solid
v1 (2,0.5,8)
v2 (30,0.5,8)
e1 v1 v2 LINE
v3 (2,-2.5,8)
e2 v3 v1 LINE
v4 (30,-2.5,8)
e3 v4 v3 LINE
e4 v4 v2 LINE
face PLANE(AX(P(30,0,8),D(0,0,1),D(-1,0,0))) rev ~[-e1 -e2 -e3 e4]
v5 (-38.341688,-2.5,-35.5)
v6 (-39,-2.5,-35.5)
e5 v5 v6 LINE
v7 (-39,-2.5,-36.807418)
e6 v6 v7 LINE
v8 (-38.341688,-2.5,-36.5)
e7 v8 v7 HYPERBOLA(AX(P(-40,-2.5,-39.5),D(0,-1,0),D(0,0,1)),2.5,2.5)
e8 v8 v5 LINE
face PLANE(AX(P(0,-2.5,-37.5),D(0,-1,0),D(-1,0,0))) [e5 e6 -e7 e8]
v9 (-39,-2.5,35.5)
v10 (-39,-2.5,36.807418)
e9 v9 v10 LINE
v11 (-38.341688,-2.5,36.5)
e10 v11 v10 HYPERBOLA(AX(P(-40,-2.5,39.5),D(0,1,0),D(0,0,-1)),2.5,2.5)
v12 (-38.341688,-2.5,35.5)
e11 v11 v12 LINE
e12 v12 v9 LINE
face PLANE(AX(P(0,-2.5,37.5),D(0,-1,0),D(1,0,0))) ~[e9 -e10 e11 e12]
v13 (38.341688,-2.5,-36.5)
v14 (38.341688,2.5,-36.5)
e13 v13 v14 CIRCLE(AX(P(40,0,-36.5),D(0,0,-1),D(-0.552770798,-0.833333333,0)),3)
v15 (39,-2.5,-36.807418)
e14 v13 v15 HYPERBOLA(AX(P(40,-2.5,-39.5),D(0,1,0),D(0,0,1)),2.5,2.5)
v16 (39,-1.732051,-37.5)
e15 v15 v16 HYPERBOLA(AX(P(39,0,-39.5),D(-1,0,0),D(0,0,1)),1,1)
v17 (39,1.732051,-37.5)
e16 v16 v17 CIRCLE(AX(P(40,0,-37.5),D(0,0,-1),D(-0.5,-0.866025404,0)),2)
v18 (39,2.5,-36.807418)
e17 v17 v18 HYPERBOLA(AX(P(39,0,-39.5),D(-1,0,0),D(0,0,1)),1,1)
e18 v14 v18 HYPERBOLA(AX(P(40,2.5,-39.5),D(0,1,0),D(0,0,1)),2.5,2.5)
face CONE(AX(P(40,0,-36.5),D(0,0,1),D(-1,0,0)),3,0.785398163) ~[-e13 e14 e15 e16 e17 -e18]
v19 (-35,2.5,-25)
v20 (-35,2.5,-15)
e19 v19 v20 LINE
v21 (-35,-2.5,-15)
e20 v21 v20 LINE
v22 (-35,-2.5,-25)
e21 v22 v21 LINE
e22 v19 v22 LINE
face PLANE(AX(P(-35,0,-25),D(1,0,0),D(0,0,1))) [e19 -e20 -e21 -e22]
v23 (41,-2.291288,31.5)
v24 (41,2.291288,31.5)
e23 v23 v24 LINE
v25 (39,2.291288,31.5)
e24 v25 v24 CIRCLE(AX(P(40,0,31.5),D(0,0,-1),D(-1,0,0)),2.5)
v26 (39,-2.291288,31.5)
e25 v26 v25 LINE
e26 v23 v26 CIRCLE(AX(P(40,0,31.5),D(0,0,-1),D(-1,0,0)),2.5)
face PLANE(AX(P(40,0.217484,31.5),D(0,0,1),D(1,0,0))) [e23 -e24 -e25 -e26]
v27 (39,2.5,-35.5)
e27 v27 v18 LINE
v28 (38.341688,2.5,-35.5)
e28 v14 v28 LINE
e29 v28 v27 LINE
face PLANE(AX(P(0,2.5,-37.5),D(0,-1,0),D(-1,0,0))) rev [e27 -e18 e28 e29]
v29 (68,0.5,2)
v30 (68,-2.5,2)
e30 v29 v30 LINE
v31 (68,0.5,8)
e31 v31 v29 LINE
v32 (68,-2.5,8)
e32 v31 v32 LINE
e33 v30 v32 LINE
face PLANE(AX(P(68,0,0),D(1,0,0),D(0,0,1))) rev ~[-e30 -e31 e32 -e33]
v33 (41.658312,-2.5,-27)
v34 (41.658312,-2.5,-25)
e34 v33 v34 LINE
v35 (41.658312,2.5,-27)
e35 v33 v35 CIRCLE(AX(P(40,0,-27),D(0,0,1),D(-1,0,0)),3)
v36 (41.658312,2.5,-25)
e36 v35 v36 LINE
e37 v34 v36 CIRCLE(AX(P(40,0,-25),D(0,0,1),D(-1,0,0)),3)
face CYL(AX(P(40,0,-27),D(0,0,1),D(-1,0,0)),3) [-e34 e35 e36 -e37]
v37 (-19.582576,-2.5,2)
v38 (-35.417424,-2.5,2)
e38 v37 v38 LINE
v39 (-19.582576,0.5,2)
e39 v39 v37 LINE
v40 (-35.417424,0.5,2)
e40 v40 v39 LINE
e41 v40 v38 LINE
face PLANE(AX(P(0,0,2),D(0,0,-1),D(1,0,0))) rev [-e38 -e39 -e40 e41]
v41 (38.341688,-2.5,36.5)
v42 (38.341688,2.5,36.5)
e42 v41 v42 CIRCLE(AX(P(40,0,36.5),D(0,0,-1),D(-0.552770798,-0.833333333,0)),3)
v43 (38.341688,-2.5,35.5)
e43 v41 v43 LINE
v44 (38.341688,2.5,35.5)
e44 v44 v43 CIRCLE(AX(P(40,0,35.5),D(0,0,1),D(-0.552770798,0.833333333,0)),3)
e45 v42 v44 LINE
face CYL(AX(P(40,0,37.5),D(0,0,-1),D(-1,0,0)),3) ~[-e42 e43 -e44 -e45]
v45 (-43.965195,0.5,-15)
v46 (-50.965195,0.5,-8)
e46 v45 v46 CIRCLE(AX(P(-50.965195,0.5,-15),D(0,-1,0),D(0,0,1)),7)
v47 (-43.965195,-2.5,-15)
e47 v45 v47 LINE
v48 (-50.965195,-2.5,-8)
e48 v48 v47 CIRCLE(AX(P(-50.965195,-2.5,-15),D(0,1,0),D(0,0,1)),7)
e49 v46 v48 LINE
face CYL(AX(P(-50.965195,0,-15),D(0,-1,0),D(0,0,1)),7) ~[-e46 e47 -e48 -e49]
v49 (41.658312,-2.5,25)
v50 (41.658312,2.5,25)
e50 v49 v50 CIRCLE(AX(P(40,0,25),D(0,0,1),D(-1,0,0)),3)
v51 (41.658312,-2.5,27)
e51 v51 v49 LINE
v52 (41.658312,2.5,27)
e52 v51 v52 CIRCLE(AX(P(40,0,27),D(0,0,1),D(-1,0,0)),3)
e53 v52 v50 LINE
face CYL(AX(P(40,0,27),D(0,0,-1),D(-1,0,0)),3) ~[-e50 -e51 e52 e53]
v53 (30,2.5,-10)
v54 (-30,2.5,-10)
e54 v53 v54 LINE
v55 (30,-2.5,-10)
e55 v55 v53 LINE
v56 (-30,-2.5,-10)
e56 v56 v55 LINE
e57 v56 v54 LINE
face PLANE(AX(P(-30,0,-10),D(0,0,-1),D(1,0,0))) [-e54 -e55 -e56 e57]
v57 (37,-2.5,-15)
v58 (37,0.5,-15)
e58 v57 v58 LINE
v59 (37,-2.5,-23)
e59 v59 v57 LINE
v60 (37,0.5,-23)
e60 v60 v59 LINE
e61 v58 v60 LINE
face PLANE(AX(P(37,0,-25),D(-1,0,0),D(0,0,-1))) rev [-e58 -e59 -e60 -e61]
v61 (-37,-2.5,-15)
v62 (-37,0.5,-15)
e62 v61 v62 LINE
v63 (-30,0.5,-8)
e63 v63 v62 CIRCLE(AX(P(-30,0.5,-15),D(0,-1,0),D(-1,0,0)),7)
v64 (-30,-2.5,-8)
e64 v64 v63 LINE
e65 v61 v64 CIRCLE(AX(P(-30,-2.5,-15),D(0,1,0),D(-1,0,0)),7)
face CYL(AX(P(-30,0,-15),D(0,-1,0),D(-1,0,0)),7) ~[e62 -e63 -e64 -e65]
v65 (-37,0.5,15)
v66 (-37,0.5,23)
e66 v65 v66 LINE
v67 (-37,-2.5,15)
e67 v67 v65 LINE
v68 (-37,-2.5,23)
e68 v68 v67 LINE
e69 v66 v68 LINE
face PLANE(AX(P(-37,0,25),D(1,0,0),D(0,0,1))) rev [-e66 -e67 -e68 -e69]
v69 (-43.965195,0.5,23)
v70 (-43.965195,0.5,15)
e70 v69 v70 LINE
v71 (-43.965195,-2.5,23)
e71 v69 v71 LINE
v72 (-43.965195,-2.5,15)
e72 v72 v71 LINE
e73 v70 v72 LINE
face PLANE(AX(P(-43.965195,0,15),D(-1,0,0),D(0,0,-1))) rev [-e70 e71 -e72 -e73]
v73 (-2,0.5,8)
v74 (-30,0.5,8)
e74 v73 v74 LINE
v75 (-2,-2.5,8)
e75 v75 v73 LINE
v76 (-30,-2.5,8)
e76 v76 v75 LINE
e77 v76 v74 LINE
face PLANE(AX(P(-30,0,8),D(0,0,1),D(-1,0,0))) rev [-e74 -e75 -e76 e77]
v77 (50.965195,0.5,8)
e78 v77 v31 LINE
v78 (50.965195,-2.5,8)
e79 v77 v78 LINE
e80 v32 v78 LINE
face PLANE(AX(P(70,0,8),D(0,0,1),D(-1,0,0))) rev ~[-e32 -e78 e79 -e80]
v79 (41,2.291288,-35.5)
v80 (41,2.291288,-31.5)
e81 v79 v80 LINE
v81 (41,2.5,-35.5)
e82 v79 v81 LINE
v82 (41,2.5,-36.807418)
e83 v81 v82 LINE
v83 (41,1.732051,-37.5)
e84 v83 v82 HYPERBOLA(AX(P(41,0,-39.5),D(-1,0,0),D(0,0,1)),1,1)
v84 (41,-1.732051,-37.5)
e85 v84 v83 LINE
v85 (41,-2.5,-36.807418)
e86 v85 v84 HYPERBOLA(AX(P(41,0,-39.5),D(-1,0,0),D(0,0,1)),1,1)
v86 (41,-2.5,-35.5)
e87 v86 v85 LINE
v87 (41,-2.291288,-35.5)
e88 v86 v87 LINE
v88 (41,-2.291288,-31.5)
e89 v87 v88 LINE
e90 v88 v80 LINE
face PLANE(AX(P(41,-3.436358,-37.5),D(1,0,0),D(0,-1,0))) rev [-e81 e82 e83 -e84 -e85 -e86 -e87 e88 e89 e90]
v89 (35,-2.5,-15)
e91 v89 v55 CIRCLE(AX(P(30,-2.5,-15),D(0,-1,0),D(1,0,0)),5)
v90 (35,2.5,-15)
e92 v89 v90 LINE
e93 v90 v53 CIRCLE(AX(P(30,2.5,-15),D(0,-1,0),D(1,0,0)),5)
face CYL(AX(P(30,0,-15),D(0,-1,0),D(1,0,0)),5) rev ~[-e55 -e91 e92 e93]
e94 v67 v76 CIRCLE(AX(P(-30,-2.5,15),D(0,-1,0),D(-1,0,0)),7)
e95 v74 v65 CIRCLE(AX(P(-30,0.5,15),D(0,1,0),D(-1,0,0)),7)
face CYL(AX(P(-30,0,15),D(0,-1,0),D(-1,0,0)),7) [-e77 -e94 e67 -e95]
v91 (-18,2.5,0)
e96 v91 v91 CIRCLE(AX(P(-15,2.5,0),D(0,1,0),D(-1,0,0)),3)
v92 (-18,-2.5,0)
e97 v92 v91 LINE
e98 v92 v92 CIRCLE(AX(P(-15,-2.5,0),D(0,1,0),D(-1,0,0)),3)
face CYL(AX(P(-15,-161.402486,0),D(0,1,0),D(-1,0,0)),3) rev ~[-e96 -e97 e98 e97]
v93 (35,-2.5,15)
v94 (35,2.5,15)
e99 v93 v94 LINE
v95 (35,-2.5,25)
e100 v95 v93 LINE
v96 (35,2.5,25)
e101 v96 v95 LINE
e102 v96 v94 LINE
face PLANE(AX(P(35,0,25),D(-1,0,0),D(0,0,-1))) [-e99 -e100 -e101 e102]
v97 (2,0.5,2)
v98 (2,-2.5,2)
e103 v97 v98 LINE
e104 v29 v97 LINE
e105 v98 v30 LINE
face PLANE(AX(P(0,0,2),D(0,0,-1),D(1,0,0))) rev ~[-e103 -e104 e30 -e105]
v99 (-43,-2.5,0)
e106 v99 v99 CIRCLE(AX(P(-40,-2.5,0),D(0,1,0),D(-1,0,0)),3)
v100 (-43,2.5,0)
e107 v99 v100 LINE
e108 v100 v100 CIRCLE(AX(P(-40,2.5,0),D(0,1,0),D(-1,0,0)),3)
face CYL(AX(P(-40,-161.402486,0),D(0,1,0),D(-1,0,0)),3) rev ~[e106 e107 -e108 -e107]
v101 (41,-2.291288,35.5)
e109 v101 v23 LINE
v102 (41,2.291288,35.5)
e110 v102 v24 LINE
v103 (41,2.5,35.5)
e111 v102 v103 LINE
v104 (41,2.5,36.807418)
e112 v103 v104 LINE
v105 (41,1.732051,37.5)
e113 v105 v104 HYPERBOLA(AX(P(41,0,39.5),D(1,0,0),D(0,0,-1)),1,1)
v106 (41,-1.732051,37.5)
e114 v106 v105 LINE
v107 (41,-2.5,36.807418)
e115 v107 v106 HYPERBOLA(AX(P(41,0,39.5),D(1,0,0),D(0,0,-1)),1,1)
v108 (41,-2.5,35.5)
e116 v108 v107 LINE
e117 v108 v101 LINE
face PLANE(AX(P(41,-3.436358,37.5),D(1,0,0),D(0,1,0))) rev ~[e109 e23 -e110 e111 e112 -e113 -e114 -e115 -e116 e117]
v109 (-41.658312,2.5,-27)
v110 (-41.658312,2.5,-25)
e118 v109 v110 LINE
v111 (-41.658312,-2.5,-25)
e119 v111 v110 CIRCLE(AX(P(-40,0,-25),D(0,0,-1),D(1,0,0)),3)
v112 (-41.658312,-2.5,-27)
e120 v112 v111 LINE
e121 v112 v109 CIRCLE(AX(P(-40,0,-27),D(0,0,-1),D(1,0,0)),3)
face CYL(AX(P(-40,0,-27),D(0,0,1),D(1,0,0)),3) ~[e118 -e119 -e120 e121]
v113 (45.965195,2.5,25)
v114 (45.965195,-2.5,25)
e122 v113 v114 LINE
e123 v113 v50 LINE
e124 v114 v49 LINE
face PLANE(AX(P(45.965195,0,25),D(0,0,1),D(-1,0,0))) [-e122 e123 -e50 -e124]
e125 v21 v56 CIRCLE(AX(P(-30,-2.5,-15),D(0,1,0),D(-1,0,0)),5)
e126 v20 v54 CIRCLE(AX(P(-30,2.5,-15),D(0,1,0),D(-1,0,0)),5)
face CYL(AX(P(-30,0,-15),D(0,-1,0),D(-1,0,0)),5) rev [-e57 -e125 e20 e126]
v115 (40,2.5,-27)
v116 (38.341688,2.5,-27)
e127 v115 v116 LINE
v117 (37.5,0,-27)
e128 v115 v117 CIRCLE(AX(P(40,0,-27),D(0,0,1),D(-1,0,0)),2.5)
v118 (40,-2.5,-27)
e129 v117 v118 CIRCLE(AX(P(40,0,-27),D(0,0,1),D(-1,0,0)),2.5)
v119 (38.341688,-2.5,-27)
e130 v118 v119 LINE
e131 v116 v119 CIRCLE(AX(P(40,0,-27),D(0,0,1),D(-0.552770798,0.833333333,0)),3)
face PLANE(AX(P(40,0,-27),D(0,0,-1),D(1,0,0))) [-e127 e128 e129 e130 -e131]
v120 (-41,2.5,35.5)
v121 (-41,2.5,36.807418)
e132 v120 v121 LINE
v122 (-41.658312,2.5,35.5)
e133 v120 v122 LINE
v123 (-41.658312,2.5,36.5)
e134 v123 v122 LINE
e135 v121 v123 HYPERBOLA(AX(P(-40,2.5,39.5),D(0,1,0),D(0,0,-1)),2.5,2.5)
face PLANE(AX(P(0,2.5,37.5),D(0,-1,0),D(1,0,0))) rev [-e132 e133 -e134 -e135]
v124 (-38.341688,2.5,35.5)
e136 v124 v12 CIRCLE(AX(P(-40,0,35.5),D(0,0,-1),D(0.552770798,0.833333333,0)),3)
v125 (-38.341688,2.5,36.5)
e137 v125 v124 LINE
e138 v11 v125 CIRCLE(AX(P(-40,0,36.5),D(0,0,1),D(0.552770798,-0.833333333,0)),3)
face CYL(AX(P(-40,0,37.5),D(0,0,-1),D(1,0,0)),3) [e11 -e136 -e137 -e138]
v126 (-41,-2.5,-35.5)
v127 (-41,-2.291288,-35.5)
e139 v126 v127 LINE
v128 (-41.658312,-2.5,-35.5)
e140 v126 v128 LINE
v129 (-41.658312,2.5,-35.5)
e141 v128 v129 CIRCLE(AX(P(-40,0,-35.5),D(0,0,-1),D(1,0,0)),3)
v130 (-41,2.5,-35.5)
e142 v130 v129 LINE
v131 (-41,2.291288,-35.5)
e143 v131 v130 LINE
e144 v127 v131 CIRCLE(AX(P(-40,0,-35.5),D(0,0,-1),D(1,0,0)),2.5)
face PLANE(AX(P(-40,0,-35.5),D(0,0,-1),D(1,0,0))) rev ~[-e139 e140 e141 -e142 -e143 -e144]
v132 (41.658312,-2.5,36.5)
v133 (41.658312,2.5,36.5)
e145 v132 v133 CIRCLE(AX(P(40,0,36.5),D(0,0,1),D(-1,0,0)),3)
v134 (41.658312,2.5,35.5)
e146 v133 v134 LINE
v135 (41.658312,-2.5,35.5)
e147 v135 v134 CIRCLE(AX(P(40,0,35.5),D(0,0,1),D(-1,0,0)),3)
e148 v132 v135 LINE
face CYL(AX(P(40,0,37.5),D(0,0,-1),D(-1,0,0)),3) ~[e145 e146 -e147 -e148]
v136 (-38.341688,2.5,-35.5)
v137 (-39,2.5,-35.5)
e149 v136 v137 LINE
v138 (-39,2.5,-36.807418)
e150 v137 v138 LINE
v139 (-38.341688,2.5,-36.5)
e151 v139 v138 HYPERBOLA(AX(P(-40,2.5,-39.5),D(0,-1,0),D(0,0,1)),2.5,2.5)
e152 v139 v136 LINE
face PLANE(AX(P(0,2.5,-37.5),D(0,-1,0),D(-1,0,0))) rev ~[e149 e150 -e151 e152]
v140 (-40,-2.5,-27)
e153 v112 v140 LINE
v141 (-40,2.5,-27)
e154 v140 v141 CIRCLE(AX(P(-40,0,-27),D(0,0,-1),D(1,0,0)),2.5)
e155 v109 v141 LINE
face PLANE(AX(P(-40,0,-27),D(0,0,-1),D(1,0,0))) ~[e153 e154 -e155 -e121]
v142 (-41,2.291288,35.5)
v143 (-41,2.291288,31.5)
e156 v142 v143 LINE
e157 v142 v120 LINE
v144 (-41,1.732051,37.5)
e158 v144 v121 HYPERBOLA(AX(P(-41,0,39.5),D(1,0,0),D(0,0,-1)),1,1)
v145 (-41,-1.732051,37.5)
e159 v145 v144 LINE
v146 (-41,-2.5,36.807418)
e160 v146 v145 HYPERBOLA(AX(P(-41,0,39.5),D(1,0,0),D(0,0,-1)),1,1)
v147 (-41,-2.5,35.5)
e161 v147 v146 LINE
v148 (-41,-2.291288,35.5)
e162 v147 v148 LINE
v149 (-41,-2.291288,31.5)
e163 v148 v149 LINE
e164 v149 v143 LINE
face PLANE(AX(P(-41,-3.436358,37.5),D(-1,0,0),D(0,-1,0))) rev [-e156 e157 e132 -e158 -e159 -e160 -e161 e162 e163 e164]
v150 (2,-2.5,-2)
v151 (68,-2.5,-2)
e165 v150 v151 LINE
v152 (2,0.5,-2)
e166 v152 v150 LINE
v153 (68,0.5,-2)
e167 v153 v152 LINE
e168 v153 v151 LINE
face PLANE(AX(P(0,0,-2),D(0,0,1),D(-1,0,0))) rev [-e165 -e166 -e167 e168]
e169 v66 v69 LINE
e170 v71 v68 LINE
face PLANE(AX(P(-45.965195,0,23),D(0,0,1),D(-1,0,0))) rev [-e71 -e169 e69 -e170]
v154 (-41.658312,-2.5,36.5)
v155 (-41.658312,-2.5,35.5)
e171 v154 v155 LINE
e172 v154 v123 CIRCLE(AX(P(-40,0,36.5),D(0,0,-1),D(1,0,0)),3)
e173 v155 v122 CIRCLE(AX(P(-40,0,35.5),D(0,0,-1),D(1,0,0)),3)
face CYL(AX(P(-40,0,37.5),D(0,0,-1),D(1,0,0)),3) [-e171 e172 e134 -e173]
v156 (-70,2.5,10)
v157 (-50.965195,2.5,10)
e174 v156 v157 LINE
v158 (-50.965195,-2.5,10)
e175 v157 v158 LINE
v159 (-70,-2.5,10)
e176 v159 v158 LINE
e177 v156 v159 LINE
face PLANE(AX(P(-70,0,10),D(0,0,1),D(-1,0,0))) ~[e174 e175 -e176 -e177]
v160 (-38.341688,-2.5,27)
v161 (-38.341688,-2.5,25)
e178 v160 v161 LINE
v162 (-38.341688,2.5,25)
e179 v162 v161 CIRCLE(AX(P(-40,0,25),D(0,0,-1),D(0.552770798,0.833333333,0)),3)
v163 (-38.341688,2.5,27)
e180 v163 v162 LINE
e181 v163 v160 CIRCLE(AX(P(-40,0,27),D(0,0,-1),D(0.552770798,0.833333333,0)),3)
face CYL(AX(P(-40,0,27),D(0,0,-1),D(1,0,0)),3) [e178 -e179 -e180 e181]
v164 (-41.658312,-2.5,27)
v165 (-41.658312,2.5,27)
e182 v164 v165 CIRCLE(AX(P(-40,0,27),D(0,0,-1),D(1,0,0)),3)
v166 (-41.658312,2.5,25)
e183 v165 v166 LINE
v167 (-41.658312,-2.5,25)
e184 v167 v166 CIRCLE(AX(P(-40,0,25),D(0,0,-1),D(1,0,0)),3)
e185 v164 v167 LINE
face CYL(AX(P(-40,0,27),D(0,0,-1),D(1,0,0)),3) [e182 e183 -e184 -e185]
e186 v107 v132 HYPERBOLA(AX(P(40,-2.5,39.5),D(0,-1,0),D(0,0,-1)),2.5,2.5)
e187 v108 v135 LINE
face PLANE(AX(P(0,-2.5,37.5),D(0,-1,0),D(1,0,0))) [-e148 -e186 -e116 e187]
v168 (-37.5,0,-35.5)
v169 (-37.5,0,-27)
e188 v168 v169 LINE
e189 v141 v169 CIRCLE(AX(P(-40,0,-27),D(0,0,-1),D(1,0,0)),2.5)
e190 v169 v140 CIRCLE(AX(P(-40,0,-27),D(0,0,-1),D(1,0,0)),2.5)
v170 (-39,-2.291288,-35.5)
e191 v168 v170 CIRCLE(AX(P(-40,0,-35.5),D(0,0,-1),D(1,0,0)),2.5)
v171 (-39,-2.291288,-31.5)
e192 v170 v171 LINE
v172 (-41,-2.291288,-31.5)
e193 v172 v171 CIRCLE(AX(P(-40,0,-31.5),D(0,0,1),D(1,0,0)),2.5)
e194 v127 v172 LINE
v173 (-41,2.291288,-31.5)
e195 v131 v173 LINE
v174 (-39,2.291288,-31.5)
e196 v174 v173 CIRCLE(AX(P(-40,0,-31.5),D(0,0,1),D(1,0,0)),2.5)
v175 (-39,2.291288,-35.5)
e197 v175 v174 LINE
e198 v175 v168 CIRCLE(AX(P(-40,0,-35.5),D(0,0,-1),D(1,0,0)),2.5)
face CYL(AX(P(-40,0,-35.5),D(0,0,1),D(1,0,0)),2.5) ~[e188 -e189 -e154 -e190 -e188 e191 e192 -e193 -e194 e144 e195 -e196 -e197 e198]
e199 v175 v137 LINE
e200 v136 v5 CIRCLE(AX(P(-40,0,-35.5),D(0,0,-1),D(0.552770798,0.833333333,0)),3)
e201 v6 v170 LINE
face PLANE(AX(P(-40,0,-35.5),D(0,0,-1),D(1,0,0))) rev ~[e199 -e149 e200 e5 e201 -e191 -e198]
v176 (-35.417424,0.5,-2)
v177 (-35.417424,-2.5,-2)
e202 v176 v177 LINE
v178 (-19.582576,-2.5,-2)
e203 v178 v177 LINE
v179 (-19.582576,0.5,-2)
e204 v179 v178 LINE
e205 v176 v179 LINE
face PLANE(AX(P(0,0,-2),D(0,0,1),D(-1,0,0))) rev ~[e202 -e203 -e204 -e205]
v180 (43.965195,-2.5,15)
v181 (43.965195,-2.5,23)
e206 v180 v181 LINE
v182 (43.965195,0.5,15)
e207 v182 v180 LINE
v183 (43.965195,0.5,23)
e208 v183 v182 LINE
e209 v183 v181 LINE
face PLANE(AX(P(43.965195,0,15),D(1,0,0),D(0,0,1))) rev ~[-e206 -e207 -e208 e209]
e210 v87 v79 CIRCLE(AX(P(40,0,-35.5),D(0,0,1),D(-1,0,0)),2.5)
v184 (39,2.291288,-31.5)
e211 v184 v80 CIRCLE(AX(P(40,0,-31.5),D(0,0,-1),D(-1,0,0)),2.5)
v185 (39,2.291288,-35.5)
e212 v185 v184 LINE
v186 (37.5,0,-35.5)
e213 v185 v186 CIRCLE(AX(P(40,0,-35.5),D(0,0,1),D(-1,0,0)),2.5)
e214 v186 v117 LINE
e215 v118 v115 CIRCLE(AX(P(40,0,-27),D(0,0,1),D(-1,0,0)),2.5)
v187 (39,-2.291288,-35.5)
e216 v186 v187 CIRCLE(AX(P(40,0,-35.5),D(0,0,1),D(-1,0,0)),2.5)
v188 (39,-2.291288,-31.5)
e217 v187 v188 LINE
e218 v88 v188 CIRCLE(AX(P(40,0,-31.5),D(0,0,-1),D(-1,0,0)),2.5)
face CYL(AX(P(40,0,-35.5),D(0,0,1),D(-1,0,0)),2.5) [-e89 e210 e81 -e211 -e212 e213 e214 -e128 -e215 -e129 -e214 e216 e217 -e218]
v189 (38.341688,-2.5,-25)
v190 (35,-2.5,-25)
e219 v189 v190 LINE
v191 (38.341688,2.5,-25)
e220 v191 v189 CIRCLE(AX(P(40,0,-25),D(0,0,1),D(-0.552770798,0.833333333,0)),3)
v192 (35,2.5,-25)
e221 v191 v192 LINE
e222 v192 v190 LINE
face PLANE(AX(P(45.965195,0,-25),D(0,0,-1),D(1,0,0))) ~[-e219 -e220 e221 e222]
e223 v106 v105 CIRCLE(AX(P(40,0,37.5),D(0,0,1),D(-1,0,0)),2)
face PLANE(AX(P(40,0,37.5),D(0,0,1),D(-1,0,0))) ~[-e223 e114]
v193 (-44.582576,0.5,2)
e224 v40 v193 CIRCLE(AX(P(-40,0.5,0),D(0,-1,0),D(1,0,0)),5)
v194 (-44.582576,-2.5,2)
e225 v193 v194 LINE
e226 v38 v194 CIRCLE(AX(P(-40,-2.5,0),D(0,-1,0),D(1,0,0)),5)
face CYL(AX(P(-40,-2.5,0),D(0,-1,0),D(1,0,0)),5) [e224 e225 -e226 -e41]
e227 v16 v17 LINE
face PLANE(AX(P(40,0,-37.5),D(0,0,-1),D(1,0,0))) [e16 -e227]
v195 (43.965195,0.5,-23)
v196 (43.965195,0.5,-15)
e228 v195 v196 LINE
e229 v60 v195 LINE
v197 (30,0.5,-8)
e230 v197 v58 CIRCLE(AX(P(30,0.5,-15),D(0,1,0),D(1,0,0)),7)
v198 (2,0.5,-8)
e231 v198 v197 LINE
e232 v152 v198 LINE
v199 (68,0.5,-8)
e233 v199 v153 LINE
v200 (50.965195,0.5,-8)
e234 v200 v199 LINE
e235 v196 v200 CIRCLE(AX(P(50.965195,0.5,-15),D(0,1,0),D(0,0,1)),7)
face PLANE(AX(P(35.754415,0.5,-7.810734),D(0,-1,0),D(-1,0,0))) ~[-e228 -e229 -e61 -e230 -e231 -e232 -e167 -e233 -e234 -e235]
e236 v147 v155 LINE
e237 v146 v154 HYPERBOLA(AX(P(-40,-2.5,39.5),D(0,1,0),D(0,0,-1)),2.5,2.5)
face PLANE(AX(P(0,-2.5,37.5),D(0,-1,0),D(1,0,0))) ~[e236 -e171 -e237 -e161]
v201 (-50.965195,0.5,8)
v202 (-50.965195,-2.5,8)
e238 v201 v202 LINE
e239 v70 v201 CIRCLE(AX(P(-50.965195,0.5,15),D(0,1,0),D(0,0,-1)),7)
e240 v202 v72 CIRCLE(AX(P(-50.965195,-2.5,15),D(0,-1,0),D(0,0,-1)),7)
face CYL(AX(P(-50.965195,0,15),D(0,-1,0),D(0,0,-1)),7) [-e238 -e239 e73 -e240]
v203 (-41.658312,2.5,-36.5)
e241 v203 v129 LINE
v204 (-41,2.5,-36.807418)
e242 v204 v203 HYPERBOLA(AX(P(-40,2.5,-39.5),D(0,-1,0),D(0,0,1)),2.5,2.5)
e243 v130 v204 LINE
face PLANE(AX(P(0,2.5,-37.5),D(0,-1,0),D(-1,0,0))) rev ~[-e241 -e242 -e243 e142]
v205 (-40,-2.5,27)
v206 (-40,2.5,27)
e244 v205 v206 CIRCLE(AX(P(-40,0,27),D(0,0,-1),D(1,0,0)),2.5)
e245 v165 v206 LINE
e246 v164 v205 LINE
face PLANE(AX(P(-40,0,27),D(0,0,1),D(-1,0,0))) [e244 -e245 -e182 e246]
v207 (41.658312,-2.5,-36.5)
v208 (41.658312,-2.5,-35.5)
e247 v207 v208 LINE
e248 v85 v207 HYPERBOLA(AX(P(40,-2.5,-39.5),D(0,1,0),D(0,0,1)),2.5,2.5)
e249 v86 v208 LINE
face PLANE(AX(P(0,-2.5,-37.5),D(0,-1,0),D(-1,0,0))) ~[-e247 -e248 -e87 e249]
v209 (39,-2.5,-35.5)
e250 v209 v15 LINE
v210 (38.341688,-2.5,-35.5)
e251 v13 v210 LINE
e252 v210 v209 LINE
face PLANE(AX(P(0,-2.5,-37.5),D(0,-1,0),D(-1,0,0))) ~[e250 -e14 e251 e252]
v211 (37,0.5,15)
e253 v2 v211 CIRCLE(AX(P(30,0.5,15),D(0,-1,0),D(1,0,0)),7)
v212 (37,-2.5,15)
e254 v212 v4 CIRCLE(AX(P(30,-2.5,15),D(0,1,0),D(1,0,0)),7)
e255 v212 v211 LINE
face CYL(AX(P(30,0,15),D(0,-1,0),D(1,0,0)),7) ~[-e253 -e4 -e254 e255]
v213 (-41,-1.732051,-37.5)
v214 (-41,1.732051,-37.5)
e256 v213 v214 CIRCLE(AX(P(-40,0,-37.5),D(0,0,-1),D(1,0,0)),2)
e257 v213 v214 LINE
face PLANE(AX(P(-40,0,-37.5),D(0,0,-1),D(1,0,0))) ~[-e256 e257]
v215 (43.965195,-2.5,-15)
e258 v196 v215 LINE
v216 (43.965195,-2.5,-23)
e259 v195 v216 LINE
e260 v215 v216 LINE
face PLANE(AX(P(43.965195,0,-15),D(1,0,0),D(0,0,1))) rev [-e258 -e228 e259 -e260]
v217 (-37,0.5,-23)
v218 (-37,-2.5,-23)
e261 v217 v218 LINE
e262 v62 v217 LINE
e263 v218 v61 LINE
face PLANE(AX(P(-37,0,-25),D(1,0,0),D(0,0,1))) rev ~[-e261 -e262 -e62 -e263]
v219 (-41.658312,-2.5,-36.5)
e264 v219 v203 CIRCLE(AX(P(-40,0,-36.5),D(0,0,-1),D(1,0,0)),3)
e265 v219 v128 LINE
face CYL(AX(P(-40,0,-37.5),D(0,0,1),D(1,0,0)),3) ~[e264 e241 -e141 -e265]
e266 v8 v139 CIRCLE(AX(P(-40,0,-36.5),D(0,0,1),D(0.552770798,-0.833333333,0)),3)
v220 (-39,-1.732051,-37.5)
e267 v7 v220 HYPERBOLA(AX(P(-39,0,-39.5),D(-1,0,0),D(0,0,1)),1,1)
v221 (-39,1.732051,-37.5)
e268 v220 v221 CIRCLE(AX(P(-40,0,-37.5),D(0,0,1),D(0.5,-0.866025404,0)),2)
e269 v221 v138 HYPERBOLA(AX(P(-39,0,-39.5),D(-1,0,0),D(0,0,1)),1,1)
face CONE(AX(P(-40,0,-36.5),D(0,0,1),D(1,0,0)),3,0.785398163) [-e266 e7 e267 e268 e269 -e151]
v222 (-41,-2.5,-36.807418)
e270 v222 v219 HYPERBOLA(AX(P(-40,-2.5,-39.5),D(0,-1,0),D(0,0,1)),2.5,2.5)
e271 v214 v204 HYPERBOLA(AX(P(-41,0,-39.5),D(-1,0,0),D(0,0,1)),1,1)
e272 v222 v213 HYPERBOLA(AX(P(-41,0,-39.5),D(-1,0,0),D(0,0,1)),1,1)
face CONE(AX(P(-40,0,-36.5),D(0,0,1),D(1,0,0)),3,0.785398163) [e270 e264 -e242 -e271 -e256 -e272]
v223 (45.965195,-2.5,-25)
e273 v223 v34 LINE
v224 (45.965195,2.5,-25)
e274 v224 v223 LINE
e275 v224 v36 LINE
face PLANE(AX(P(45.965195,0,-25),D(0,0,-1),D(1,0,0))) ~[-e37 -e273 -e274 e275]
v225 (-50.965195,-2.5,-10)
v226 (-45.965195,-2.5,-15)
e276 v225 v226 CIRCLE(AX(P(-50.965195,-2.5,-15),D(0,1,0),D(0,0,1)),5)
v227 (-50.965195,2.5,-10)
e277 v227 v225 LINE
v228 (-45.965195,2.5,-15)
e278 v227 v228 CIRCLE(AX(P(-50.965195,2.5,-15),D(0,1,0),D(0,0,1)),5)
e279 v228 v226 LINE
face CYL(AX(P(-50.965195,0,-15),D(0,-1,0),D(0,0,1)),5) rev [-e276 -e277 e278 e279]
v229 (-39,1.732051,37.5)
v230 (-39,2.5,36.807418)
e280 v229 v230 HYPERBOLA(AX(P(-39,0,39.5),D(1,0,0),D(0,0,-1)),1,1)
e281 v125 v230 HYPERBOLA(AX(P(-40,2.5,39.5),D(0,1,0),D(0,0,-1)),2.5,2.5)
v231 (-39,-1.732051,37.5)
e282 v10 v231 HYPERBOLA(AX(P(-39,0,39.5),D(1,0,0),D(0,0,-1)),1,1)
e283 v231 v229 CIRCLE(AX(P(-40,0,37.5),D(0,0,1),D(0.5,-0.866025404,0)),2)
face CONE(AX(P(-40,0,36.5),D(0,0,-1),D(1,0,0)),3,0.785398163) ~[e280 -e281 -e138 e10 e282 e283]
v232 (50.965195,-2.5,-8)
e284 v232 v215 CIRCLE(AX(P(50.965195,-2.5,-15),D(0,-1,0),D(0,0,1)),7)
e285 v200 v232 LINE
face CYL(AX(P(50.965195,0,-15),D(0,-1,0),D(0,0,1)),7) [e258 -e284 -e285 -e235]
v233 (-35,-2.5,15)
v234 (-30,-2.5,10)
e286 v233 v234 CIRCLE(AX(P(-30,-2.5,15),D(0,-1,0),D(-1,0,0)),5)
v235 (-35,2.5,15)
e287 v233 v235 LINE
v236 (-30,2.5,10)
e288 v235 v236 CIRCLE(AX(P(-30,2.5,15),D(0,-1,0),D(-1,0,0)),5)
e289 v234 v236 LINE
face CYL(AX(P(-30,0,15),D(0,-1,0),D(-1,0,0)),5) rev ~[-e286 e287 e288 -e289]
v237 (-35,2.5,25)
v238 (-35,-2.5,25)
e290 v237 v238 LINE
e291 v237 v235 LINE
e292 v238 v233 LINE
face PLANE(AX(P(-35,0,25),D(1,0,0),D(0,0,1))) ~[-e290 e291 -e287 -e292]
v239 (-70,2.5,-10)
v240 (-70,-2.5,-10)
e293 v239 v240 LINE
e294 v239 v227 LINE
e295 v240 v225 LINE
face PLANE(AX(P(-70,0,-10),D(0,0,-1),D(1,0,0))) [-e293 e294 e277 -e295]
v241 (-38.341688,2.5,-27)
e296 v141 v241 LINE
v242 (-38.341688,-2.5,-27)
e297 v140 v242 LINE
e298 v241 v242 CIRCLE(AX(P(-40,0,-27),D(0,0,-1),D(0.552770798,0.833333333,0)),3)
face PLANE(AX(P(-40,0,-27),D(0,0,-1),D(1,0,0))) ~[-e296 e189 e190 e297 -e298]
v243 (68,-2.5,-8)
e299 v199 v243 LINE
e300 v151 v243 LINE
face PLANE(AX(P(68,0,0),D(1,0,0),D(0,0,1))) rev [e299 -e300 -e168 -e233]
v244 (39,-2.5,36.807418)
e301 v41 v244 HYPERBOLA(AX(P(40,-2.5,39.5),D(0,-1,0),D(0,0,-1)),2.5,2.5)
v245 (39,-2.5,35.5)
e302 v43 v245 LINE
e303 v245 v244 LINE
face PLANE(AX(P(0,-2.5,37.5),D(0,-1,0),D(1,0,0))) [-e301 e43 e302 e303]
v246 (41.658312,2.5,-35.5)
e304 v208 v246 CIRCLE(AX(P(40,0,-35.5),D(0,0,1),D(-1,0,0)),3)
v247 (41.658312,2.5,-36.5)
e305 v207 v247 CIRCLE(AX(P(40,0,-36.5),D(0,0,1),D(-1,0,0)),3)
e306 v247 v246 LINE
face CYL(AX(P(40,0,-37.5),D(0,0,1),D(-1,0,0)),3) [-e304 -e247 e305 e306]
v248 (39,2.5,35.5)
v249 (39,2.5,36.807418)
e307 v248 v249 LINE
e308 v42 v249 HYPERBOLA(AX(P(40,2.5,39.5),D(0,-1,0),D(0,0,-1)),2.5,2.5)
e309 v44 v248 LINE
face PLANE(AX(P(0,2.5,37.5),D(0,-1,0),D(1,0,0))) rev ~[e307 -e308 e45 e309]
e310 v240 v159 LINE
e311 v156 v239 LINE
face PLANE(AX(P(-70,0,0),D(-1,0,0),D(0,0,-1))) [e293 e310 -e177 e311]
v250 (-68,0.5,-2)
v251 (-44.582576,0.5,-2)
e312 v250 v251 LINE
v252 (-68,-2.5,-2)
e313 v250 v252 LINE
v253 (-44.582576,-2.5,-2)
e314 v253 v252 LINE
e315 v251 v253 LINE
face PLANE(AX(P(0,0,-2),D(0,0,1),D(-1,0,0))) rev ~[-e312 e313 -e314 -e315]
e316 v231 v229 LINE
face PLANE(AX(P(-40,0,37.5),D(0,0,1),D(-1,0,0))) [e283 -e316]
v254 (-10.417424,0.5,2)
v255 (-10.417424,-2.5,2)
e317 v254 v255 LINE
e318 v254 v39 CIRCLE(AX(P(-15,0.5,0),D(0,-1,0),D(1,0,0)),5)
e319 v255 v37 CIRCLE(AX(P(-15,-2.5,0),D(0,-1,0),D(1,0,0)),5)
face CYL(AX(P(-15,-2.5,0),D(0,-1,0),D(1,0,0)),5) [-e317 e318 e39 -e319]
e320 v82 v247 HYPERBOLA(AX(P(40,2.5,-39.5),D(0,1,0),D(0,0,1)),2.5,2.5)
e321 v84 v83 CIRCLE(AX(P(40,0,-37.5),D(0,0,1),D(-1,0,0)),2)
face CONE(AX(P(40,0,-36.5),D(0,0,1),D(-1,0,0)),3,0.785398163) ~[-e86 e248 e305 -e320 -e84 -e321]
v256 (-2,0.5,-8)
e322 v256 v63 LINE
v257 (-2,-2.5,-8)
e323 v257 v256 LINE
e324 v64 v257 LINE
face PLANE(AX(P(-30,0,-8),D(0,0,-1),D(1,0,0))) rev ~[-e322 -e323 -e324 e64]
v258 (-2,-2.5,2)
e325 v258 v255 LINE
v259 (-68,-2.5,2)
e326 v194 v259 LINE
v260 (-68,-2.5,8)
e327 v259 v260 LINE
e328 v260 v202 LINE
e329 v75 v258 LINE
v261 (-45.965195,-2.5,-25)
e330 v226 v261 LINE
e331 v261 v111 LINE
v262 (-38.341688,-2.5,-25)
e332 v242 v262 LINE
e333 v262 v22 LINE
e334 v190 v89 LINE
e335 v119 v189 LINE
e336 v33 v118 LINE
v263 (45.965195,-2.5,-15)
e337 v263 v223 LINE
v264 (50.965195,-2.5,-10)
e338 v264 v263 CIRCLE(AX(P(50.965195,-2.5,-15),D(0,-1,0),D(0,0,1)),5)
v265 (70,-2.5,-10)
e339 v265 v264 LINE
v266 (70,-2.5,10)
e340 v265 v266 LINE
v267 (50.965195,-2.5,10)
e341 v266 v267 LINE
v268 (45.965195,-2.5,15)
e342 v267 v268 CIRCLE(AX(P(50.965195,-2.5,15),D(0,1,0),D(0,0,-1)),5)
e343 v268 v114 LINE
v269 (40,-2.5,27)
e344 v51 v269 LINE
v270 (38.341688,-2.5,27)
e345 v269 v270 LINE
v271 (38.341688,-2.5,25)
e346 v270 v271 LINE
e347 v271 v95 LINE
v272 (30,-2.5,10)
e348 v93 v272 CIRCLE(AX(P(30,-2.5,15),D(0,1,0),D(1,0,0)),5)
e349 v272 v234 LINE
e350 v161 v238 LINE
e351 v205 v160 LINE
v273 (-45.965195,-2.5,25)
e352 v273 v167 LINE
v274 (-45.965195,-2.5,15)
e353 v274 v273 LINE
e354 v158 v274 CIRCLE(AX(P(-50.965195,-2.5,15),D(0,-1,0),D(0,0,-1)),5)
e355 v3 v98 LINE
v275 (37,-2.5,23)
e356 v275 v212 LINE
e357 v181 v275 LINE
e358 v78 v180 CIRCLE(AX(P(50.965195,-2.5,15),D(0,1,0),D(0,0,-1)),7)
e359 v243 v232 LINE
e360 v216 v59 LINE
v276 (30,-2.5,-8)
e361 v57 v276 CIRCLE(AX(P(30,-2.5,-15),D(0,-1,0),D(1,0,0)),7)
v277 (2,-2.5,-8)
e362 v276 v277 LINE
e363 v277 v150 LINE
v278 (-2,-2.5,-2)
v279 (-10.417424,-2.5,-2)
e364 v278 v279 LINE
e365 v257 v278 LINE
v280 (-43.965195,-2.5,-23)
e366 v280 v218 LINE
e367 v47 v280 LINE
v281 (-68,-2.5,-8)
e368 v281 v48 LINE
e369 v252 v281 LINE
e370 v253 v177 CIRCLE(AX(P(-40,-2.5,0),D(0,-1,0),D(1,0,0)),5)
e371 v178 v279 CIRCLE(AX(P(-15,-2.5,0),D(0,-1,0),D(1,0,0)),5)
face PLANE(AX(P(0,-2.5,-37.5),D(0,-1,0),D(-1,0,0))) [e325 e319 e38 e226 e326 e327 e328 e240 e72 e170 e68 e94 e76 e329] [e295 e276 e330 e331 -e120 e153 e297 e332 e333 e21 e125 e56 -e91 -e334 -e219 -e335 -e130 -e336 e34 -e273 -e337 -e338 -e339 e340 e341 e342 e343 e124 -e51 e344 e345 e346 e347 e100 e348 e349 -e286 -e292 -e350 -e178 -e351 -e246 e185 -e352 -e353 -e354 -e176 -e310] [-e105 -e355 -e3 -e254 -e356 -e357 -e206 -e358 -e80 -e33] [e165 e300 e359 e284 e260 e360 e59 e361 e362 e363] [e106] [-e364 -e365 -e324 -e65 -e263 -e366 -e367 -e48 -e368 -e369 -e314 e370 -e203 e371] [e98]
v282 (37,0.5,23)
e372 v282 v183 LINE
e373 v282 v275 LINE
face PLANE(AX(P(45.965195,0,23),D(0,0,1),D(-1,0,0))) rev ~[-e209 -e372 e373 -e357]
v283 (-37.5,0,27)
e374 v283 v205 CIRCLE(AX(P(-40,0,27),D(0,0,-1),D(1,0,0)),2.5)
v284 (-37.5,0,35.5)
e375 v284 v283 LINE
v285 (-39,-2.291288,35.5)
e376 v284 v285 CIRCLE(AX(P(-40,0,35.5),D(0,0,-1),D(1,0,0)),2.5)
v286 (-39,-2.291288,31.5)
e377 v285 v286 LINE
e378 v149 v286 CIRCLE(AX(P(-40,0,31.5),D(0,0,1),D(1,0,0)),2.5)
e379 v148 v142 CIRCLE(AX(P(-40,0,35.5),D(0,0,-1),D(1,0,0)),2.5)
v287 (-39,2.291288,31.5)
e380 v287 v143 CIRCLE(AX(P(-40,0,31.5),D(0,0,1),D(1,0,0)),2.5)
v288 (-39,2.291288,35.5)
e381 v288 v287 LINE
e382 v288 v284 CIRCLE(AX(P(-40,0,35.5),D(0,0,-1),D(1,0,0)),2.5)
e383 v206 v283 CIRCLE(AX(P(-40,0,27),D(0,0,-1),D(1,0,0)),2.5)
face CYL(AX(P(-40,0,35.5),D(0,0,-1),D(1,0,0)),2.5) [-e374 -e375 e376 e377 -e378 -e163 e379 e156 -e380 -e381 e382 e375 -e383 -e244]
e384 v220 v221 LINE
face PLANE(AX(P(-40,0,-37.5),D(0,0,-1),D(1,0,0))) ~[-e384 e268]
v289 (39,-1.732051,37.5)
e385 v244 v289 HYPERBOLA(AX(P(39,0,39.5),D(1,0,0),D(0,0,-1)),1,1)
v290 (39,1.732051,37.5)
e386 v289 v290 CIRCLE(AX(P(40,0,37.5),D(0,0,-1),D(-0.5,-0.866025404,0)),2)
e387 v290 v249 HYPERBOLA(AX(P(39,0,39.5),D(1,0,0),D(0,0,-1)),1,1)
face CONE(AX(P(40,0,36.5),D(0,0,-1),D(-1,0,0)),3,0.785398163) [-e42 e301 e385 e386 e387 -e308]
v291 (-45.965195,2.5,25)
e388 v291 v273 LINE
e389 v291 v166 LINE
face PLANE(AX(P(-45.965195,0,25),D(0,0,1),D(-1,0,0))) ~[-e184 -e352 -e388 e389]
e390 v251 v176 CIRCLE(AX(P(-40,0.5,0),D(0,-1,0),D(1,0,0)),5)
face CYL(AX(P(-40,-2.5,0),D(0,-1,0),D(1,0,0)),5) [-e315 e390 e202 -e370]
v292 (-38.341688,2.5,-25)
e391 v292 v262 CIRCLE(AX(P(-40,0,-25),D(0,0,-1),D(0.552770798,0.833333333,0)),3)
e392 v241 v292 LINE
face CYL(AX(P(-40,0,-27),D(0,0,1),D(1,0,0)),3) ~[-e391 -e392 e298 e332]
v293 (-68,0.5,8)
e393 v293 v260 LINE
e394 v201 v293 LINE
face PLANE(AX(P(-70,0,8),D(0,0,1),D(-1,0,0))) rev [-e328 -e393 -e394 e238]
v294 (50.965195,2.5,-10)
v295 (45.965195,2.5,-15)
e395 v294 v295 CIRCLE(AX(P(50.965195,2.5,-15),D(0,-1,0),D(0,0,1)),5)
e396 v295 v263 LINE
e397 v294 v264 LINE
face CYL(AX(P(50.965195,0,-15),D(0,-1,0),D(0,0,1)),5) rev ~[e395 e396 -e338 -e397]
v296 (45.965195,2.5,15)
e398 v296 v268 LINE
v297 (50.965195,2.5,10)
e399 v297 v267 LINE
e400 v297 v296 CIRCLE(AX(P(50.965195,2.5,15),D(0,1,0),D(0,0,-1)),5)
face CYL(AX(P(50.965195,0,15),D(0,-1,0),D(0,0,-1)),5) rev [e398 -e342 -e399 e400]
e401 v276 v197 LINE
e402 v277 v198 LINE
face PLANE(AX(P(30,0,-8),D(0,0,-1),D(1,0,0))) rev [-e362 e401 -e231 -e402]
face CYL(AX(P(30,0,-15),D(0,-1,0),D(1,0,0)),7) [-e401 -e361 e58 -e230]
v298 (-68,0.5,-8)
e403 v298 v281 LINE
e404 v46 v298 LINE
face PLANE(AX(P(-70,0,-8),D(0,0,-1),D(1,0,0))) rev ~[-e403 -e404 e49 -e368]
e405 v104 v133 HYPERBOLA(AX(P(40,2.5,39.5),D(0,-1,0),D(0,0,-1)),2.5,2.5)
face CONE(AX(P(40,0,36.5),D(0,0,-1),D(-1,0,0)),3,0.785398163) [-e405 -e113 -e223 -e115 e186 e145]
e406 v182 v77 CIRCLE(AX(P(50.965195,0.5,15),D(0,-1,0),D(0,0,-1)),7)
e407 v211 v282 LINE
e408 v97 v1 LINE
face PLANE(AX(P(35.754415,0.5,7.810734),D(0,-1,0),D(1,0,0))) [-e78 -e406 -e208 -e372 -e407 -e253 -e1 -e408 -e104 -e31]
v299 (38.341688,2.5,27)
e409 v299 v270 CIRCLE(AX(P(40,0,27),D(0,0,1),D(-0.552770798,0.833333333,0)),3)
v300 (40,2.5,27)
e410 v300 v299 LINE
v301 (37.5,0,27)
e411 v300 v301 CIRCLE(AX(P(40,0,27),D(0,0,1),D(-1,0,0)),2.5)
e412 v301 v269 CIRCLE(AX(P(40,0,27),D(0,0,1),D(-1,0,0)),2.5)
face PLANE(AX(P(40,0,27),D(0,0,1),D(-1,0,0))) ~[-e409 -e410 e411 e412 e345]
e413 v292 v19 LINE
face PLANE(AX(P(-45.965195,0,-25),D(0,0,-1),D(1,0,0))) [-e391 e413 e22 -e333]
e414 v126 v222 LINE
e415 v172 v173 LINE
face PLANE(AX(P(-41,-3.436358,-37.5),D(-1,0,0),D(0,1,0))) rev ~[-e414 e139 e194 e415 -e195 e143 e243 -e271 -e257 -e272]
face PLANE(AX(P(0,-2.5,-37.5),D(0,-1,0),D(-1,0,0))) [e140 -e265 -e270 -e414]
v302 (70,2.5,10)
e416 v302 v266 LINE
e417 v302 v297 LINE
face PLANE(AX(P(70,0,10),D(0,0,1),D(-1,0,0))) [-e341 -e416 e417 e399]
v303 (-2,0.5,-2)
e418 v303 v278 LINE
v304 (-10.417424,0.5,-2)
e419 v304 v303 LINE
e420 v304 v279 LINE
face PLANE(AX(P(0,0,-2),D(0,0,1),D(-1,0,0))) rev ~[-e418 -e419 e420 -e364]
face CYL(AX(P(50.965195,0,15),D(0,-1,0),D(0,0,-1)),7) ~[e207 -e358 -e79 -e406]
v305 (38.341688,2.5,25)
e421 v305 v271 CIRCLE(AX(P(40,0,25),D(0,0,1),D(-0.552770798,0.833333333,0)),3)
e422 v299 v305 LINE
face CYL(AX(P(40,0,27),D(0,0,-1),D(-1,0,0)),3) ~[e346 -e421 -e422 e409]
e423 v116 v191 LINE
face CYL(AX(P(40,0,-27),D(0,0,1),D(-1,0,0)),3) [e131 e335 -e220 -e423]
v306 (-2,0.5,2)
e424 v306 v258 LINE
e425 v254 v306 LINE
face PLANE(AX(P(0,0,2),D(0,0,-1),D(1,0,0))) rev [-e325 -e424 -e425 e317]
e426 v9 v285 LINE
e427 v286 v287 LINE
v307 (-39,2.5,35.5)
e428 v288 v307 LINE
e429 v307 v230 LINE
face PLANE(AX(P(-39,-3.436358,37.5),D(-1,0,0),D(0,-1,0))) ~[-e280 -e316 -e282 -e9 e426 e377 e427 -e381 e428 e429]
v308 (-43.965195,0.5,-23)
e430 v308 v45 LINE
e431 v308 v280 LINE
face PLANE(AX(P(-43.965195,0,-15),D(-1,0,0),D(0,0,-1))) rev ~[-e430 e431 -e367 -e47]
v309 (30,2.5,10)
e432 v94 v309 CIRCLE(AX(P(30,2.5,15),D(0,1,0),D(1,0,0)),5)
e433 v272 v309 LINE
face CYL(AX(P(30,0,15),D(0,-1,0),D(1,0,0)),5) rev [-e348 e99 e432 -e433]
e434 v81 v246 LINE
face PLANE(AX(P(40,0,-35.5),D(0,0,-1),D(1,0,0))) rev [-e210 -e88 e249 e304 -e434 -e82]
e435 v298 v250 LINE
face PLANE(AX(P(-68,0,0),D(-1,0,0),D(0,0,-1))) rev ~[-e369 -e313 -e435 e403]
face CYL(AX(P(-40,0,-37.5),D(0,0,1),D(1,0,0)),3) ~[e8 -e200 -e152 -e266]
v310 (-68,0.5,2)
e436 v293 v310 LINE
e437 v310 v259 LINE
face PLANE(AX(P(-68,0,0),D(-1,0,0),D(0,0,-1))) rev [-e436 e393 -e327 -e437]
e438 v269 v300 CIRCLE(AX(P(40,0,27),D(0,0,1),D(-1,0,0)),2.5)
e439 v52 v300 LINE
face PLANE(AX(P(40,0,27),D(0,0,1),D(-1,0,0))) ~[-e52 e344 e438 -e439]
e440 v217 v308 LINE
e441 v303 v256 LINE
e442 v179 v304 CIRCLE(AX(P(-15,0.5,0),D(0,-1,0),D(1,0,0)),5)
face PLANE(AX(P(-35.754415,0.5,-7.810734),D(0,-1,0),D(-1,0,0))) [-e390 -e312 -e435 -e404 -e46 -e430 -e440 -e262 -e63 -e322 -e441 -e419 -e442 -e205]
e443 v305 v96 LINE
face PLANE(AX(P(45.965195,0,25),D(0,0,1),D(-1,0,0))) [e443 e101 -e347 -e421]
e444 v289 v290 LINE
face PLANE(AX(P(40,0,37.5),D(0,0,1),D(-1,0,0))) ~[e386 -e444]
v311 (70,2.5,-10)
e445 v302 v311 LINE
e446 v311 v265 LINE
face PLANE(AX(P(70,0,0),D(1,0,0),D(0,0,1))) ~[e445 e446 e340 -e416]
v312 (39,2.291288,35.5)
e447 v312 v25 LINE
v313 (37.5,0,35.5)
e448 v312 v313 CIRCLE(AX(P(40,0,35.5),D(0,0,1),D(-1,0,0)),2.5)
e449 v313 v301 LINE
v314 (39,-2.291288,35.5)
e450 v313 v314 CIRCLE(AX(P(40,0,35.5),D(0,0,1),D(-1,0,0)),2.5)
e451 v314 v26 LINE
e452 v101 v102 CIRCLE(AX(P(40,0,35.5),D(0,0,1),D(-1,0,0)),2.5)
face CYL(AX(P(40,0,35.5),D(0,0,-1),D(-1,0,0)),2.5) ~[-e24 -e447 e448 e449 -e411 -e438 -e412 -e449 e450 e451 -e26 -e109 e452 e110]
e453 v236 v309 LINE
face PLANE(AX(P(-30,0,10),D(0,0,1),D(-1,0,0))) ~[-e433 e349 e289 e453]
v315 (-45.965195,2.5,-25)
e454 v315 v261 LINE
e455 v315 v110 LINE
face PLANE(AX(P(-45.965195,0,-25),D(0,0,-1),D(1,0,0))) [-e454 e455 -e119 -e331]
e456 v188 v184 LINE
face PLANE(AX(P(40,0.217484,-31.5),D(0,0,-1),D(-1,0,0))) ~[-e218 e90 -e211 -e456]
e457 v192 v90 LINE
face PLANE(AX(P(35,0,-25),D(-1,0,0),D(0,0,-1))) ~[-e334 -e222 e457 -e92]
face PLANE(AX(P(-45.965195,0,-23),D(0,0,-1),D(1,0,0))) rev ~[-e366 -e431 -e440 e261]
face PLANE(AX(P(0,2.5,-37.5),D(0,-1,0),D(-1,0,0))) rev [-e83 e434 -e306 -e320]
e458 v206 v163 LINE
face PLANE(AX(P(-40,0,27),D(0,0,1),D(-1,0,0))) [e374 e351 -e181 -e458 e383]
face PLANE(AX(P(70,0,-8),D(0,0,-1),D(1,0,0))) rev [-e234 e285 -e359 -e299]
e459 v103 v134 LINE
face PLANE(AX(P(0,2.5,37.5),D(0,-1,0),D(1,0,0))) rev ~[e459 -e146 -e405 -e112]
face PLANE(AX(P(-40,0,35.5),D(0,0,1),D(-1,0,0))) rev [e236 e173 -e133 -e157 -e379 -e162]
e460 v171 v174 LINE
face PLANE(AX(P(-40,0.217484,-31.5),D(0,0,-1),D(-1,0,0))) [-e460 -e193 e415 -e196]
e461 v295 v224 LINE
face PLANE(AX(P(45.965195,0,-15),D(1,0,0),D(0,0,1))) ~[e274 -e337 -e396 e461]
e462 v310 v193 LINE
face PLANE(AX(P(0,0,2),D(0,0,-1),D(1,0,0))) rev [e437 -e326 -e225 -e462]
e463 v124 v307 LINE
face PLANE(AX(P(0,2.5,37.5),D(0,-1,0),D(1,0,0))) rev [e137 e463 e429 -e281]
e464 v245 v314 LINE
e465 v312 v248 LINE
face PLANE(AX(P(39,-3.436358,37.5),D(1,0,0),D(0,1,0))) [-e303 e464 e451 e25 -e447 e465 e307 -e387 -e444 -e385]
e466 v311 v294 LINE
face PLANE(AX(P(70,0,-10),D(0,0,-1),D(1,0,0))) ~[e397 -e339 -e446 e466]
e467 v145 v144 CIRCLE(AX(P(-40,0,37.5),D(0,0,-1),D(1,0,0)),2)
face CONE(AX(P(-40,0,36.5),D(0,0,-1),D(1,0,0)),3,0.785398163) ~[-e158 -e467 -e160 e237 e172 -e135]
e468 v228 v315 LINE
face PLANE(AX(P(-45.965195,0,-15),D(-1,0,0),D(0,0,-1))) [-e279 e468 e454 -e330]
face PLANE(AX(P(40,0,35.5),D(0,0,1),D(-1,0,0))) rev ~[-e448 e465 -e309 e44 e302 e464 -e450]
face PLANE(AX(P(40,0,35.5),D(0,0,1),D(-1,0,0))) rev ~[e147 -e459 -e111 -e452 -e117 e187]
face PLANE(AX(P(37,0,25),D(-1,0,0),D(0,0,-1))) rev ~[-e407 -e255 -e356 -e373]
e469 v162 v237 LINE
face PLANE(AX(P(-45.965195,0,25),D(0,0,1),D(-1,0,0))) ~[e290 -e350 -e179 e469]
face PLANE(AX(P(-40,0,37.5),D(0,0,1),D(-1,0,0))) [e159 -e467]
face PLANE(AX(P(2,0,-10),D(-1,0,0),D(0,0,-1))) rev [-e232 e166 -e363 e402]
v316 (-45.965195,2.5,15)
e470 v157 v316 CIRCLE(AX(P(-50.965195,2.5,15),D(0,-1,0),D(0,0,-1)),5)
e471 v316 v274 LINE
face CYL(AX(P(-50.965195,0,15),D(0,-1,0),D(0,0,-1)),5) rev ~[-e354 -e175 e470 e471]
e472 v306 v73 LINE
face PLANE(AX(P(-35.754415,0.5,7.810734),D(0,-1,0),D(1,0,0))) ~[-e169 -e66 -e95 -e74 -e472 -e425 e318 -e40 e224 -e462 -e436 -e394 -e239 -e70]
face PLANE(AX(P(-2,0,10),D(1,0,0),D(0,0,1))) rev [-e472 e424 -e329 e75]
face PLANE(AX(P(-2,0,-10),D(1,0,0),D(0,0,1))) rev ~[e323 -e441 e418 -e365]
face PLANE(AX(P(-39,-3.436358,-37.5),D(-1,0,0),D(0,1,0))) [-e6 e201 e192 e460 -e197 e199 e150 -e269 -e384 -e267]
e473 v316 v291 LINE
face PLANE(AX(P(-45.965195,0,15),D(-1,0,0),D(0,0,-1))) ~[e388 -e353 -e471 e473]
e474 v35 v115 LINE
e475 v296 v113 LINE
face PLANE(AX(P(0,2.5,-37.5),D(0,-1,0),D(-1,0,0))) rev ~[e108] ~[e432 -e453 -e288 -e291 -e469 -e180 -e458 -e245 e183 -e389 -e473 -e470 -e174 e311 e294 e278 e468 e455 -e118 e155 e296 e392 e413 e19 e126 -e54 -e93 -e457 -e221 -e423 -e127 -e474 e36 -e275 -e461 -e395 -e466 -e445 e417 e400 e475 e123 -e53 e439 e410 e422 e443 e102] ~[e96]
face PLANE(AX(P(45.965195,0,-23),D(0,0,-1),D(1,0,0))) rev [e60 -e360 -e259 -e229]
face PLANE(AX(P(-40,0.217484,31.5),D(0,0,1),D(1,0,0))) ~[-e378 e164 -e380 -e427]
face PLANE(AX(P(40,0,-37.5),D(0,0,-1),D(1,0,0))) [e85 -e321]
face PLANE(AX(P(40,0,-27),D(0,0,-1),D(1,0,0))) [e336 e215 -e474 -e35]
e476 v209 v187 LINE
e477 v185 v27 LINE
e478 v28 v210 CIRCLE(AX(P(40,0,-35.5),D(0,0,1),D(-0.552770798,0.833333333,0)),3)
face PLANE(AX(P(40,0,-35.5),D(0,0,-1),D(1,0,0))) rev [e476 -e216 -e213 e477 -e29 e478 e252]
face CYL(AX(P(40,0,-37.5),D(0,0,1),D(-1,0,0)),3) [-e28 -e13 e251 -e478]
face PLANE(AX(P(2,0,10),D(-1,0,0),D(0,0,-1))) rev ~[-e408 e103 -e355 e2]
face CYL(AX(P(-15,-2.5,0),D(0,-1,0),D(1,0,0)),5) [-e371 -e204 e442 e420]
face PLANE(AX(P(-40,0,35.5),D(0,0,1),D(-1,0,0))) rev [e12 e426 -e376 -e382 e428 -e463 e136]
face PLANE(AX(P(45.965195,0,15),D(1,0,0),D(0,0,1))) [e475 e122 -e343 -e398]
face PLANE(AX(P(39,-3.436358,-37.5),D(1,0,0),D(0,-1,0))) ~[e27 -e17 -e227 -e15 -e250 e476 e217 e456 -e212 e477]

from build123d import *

# Parameters (mm, degrees)
F1_DEPTH  = 2.5
F2_T      = -2
F5_SIZE   = 1
F6_W      = 75
F6_H      = 5
F7_DEPTH  = 37.501
F8_W      = 2
F8_H      = 7.3076855198
F9_DEPTH  = 6
F12_R     = 5
F13_DEPTH = 5
F15_D     = 6


with BuildPart() as f1:
    # F0 (on Front) → F1 (new body, symmetric)
    with BuildSketch(Plane.XZ):
        with BuildLine():
            Line((0, 10), (0, 0))
            Line((0, 0), (70, 0))
            Line((70, 0), (70, 10))
            Line((70, 10), (50.9651945531, 10))
            ThreePointArc((50.9651945531, 10), (47.4296606472, 11.4644660941), (45.9651945531, 15))
            Line((45.9651945531, 15), (45.9651945531, 25))
            Line((45.9651945531, 25), (35, 25))
            Line((35, 25), (35, 15))
            ThreePointArc((35, 15), (33.5355339059, 11.4644660941), (30, 10))
            Line((30, 10), (0, 10))
        make_face()
    extrude(amount=F1_DEPTH, both=True)

    # F2
    f2_openings = [f1.faces().sort_by_distance(p)[0] for p in [
        (36.097562, -2.5, 7.424119),
    ]]
    offset(amount=F2_T, openings=f2_openings)

    # F3 (on Front) → F4 (revolve)
    with BuildSketch(Plane.XZ):
        Polygon((37, 25), (40, 25), (40, 37.5), (37, 37.5), (37, 35.5), (37.5, 35.5), (37.5, 27), (37, 27), align=None)
    revolve(axis=Axis((40, 0, 31.25), (0, 0, 1)))

    # F5
    f5_edges = [f1.edges().sort_by_distance(p)[0] for p in [
        (43, 0, 37.5),
    ]]
    chamfer(f5_edges, length=F5_SIZE)

    # F6 (on face) → F7 (intersect, through all)
    with BuildSketch(Plane.XY.offset(37.5)):
        with Locations((37.5, 0)):
            Rectangle(F6_W, F6_H)
    extrude(amount=-F7_DEPTH, mode=Mode.INTERSECT)

    # F8 (on face) → F9 (cut)
    with BuildSketch(Plane.XY.offset(37.5)):
        with Locations((40, 0.2174844267)):
            Rectangle(F8_W, F8_H)
    extrude(amount=-F9_DEPTH, mode=Mode.SUBTRACT)

    # F10: F1 across plane


with BuildPart() as f1_1:
    add(f1.part)
    add(f1.part.mirror(Plane.XY))

    # F11: F1 across plane


with BuildPart() as f1_2:
    add(f1_1.part)
    add(f1_1.part.mirror(Plane.YZ))

    # F12 (on face) → F13 (join, through all)
    with BuildSketch(Plane.XZ.offset(2.5)):
        with Locations((-40, 0)):
            Circle(F12_R)
        with Locations((-15, 0)):
            Circle(F12_R)
    extrude(amount=-F13_DEPTH)

    # F15 (through all)
    with Locations(Plane.XZ.offset(2.5)):
        with Locations((-40, 0), (-15, 0)):
            Hole(F15_D / 2)


solid = f1_2.part
